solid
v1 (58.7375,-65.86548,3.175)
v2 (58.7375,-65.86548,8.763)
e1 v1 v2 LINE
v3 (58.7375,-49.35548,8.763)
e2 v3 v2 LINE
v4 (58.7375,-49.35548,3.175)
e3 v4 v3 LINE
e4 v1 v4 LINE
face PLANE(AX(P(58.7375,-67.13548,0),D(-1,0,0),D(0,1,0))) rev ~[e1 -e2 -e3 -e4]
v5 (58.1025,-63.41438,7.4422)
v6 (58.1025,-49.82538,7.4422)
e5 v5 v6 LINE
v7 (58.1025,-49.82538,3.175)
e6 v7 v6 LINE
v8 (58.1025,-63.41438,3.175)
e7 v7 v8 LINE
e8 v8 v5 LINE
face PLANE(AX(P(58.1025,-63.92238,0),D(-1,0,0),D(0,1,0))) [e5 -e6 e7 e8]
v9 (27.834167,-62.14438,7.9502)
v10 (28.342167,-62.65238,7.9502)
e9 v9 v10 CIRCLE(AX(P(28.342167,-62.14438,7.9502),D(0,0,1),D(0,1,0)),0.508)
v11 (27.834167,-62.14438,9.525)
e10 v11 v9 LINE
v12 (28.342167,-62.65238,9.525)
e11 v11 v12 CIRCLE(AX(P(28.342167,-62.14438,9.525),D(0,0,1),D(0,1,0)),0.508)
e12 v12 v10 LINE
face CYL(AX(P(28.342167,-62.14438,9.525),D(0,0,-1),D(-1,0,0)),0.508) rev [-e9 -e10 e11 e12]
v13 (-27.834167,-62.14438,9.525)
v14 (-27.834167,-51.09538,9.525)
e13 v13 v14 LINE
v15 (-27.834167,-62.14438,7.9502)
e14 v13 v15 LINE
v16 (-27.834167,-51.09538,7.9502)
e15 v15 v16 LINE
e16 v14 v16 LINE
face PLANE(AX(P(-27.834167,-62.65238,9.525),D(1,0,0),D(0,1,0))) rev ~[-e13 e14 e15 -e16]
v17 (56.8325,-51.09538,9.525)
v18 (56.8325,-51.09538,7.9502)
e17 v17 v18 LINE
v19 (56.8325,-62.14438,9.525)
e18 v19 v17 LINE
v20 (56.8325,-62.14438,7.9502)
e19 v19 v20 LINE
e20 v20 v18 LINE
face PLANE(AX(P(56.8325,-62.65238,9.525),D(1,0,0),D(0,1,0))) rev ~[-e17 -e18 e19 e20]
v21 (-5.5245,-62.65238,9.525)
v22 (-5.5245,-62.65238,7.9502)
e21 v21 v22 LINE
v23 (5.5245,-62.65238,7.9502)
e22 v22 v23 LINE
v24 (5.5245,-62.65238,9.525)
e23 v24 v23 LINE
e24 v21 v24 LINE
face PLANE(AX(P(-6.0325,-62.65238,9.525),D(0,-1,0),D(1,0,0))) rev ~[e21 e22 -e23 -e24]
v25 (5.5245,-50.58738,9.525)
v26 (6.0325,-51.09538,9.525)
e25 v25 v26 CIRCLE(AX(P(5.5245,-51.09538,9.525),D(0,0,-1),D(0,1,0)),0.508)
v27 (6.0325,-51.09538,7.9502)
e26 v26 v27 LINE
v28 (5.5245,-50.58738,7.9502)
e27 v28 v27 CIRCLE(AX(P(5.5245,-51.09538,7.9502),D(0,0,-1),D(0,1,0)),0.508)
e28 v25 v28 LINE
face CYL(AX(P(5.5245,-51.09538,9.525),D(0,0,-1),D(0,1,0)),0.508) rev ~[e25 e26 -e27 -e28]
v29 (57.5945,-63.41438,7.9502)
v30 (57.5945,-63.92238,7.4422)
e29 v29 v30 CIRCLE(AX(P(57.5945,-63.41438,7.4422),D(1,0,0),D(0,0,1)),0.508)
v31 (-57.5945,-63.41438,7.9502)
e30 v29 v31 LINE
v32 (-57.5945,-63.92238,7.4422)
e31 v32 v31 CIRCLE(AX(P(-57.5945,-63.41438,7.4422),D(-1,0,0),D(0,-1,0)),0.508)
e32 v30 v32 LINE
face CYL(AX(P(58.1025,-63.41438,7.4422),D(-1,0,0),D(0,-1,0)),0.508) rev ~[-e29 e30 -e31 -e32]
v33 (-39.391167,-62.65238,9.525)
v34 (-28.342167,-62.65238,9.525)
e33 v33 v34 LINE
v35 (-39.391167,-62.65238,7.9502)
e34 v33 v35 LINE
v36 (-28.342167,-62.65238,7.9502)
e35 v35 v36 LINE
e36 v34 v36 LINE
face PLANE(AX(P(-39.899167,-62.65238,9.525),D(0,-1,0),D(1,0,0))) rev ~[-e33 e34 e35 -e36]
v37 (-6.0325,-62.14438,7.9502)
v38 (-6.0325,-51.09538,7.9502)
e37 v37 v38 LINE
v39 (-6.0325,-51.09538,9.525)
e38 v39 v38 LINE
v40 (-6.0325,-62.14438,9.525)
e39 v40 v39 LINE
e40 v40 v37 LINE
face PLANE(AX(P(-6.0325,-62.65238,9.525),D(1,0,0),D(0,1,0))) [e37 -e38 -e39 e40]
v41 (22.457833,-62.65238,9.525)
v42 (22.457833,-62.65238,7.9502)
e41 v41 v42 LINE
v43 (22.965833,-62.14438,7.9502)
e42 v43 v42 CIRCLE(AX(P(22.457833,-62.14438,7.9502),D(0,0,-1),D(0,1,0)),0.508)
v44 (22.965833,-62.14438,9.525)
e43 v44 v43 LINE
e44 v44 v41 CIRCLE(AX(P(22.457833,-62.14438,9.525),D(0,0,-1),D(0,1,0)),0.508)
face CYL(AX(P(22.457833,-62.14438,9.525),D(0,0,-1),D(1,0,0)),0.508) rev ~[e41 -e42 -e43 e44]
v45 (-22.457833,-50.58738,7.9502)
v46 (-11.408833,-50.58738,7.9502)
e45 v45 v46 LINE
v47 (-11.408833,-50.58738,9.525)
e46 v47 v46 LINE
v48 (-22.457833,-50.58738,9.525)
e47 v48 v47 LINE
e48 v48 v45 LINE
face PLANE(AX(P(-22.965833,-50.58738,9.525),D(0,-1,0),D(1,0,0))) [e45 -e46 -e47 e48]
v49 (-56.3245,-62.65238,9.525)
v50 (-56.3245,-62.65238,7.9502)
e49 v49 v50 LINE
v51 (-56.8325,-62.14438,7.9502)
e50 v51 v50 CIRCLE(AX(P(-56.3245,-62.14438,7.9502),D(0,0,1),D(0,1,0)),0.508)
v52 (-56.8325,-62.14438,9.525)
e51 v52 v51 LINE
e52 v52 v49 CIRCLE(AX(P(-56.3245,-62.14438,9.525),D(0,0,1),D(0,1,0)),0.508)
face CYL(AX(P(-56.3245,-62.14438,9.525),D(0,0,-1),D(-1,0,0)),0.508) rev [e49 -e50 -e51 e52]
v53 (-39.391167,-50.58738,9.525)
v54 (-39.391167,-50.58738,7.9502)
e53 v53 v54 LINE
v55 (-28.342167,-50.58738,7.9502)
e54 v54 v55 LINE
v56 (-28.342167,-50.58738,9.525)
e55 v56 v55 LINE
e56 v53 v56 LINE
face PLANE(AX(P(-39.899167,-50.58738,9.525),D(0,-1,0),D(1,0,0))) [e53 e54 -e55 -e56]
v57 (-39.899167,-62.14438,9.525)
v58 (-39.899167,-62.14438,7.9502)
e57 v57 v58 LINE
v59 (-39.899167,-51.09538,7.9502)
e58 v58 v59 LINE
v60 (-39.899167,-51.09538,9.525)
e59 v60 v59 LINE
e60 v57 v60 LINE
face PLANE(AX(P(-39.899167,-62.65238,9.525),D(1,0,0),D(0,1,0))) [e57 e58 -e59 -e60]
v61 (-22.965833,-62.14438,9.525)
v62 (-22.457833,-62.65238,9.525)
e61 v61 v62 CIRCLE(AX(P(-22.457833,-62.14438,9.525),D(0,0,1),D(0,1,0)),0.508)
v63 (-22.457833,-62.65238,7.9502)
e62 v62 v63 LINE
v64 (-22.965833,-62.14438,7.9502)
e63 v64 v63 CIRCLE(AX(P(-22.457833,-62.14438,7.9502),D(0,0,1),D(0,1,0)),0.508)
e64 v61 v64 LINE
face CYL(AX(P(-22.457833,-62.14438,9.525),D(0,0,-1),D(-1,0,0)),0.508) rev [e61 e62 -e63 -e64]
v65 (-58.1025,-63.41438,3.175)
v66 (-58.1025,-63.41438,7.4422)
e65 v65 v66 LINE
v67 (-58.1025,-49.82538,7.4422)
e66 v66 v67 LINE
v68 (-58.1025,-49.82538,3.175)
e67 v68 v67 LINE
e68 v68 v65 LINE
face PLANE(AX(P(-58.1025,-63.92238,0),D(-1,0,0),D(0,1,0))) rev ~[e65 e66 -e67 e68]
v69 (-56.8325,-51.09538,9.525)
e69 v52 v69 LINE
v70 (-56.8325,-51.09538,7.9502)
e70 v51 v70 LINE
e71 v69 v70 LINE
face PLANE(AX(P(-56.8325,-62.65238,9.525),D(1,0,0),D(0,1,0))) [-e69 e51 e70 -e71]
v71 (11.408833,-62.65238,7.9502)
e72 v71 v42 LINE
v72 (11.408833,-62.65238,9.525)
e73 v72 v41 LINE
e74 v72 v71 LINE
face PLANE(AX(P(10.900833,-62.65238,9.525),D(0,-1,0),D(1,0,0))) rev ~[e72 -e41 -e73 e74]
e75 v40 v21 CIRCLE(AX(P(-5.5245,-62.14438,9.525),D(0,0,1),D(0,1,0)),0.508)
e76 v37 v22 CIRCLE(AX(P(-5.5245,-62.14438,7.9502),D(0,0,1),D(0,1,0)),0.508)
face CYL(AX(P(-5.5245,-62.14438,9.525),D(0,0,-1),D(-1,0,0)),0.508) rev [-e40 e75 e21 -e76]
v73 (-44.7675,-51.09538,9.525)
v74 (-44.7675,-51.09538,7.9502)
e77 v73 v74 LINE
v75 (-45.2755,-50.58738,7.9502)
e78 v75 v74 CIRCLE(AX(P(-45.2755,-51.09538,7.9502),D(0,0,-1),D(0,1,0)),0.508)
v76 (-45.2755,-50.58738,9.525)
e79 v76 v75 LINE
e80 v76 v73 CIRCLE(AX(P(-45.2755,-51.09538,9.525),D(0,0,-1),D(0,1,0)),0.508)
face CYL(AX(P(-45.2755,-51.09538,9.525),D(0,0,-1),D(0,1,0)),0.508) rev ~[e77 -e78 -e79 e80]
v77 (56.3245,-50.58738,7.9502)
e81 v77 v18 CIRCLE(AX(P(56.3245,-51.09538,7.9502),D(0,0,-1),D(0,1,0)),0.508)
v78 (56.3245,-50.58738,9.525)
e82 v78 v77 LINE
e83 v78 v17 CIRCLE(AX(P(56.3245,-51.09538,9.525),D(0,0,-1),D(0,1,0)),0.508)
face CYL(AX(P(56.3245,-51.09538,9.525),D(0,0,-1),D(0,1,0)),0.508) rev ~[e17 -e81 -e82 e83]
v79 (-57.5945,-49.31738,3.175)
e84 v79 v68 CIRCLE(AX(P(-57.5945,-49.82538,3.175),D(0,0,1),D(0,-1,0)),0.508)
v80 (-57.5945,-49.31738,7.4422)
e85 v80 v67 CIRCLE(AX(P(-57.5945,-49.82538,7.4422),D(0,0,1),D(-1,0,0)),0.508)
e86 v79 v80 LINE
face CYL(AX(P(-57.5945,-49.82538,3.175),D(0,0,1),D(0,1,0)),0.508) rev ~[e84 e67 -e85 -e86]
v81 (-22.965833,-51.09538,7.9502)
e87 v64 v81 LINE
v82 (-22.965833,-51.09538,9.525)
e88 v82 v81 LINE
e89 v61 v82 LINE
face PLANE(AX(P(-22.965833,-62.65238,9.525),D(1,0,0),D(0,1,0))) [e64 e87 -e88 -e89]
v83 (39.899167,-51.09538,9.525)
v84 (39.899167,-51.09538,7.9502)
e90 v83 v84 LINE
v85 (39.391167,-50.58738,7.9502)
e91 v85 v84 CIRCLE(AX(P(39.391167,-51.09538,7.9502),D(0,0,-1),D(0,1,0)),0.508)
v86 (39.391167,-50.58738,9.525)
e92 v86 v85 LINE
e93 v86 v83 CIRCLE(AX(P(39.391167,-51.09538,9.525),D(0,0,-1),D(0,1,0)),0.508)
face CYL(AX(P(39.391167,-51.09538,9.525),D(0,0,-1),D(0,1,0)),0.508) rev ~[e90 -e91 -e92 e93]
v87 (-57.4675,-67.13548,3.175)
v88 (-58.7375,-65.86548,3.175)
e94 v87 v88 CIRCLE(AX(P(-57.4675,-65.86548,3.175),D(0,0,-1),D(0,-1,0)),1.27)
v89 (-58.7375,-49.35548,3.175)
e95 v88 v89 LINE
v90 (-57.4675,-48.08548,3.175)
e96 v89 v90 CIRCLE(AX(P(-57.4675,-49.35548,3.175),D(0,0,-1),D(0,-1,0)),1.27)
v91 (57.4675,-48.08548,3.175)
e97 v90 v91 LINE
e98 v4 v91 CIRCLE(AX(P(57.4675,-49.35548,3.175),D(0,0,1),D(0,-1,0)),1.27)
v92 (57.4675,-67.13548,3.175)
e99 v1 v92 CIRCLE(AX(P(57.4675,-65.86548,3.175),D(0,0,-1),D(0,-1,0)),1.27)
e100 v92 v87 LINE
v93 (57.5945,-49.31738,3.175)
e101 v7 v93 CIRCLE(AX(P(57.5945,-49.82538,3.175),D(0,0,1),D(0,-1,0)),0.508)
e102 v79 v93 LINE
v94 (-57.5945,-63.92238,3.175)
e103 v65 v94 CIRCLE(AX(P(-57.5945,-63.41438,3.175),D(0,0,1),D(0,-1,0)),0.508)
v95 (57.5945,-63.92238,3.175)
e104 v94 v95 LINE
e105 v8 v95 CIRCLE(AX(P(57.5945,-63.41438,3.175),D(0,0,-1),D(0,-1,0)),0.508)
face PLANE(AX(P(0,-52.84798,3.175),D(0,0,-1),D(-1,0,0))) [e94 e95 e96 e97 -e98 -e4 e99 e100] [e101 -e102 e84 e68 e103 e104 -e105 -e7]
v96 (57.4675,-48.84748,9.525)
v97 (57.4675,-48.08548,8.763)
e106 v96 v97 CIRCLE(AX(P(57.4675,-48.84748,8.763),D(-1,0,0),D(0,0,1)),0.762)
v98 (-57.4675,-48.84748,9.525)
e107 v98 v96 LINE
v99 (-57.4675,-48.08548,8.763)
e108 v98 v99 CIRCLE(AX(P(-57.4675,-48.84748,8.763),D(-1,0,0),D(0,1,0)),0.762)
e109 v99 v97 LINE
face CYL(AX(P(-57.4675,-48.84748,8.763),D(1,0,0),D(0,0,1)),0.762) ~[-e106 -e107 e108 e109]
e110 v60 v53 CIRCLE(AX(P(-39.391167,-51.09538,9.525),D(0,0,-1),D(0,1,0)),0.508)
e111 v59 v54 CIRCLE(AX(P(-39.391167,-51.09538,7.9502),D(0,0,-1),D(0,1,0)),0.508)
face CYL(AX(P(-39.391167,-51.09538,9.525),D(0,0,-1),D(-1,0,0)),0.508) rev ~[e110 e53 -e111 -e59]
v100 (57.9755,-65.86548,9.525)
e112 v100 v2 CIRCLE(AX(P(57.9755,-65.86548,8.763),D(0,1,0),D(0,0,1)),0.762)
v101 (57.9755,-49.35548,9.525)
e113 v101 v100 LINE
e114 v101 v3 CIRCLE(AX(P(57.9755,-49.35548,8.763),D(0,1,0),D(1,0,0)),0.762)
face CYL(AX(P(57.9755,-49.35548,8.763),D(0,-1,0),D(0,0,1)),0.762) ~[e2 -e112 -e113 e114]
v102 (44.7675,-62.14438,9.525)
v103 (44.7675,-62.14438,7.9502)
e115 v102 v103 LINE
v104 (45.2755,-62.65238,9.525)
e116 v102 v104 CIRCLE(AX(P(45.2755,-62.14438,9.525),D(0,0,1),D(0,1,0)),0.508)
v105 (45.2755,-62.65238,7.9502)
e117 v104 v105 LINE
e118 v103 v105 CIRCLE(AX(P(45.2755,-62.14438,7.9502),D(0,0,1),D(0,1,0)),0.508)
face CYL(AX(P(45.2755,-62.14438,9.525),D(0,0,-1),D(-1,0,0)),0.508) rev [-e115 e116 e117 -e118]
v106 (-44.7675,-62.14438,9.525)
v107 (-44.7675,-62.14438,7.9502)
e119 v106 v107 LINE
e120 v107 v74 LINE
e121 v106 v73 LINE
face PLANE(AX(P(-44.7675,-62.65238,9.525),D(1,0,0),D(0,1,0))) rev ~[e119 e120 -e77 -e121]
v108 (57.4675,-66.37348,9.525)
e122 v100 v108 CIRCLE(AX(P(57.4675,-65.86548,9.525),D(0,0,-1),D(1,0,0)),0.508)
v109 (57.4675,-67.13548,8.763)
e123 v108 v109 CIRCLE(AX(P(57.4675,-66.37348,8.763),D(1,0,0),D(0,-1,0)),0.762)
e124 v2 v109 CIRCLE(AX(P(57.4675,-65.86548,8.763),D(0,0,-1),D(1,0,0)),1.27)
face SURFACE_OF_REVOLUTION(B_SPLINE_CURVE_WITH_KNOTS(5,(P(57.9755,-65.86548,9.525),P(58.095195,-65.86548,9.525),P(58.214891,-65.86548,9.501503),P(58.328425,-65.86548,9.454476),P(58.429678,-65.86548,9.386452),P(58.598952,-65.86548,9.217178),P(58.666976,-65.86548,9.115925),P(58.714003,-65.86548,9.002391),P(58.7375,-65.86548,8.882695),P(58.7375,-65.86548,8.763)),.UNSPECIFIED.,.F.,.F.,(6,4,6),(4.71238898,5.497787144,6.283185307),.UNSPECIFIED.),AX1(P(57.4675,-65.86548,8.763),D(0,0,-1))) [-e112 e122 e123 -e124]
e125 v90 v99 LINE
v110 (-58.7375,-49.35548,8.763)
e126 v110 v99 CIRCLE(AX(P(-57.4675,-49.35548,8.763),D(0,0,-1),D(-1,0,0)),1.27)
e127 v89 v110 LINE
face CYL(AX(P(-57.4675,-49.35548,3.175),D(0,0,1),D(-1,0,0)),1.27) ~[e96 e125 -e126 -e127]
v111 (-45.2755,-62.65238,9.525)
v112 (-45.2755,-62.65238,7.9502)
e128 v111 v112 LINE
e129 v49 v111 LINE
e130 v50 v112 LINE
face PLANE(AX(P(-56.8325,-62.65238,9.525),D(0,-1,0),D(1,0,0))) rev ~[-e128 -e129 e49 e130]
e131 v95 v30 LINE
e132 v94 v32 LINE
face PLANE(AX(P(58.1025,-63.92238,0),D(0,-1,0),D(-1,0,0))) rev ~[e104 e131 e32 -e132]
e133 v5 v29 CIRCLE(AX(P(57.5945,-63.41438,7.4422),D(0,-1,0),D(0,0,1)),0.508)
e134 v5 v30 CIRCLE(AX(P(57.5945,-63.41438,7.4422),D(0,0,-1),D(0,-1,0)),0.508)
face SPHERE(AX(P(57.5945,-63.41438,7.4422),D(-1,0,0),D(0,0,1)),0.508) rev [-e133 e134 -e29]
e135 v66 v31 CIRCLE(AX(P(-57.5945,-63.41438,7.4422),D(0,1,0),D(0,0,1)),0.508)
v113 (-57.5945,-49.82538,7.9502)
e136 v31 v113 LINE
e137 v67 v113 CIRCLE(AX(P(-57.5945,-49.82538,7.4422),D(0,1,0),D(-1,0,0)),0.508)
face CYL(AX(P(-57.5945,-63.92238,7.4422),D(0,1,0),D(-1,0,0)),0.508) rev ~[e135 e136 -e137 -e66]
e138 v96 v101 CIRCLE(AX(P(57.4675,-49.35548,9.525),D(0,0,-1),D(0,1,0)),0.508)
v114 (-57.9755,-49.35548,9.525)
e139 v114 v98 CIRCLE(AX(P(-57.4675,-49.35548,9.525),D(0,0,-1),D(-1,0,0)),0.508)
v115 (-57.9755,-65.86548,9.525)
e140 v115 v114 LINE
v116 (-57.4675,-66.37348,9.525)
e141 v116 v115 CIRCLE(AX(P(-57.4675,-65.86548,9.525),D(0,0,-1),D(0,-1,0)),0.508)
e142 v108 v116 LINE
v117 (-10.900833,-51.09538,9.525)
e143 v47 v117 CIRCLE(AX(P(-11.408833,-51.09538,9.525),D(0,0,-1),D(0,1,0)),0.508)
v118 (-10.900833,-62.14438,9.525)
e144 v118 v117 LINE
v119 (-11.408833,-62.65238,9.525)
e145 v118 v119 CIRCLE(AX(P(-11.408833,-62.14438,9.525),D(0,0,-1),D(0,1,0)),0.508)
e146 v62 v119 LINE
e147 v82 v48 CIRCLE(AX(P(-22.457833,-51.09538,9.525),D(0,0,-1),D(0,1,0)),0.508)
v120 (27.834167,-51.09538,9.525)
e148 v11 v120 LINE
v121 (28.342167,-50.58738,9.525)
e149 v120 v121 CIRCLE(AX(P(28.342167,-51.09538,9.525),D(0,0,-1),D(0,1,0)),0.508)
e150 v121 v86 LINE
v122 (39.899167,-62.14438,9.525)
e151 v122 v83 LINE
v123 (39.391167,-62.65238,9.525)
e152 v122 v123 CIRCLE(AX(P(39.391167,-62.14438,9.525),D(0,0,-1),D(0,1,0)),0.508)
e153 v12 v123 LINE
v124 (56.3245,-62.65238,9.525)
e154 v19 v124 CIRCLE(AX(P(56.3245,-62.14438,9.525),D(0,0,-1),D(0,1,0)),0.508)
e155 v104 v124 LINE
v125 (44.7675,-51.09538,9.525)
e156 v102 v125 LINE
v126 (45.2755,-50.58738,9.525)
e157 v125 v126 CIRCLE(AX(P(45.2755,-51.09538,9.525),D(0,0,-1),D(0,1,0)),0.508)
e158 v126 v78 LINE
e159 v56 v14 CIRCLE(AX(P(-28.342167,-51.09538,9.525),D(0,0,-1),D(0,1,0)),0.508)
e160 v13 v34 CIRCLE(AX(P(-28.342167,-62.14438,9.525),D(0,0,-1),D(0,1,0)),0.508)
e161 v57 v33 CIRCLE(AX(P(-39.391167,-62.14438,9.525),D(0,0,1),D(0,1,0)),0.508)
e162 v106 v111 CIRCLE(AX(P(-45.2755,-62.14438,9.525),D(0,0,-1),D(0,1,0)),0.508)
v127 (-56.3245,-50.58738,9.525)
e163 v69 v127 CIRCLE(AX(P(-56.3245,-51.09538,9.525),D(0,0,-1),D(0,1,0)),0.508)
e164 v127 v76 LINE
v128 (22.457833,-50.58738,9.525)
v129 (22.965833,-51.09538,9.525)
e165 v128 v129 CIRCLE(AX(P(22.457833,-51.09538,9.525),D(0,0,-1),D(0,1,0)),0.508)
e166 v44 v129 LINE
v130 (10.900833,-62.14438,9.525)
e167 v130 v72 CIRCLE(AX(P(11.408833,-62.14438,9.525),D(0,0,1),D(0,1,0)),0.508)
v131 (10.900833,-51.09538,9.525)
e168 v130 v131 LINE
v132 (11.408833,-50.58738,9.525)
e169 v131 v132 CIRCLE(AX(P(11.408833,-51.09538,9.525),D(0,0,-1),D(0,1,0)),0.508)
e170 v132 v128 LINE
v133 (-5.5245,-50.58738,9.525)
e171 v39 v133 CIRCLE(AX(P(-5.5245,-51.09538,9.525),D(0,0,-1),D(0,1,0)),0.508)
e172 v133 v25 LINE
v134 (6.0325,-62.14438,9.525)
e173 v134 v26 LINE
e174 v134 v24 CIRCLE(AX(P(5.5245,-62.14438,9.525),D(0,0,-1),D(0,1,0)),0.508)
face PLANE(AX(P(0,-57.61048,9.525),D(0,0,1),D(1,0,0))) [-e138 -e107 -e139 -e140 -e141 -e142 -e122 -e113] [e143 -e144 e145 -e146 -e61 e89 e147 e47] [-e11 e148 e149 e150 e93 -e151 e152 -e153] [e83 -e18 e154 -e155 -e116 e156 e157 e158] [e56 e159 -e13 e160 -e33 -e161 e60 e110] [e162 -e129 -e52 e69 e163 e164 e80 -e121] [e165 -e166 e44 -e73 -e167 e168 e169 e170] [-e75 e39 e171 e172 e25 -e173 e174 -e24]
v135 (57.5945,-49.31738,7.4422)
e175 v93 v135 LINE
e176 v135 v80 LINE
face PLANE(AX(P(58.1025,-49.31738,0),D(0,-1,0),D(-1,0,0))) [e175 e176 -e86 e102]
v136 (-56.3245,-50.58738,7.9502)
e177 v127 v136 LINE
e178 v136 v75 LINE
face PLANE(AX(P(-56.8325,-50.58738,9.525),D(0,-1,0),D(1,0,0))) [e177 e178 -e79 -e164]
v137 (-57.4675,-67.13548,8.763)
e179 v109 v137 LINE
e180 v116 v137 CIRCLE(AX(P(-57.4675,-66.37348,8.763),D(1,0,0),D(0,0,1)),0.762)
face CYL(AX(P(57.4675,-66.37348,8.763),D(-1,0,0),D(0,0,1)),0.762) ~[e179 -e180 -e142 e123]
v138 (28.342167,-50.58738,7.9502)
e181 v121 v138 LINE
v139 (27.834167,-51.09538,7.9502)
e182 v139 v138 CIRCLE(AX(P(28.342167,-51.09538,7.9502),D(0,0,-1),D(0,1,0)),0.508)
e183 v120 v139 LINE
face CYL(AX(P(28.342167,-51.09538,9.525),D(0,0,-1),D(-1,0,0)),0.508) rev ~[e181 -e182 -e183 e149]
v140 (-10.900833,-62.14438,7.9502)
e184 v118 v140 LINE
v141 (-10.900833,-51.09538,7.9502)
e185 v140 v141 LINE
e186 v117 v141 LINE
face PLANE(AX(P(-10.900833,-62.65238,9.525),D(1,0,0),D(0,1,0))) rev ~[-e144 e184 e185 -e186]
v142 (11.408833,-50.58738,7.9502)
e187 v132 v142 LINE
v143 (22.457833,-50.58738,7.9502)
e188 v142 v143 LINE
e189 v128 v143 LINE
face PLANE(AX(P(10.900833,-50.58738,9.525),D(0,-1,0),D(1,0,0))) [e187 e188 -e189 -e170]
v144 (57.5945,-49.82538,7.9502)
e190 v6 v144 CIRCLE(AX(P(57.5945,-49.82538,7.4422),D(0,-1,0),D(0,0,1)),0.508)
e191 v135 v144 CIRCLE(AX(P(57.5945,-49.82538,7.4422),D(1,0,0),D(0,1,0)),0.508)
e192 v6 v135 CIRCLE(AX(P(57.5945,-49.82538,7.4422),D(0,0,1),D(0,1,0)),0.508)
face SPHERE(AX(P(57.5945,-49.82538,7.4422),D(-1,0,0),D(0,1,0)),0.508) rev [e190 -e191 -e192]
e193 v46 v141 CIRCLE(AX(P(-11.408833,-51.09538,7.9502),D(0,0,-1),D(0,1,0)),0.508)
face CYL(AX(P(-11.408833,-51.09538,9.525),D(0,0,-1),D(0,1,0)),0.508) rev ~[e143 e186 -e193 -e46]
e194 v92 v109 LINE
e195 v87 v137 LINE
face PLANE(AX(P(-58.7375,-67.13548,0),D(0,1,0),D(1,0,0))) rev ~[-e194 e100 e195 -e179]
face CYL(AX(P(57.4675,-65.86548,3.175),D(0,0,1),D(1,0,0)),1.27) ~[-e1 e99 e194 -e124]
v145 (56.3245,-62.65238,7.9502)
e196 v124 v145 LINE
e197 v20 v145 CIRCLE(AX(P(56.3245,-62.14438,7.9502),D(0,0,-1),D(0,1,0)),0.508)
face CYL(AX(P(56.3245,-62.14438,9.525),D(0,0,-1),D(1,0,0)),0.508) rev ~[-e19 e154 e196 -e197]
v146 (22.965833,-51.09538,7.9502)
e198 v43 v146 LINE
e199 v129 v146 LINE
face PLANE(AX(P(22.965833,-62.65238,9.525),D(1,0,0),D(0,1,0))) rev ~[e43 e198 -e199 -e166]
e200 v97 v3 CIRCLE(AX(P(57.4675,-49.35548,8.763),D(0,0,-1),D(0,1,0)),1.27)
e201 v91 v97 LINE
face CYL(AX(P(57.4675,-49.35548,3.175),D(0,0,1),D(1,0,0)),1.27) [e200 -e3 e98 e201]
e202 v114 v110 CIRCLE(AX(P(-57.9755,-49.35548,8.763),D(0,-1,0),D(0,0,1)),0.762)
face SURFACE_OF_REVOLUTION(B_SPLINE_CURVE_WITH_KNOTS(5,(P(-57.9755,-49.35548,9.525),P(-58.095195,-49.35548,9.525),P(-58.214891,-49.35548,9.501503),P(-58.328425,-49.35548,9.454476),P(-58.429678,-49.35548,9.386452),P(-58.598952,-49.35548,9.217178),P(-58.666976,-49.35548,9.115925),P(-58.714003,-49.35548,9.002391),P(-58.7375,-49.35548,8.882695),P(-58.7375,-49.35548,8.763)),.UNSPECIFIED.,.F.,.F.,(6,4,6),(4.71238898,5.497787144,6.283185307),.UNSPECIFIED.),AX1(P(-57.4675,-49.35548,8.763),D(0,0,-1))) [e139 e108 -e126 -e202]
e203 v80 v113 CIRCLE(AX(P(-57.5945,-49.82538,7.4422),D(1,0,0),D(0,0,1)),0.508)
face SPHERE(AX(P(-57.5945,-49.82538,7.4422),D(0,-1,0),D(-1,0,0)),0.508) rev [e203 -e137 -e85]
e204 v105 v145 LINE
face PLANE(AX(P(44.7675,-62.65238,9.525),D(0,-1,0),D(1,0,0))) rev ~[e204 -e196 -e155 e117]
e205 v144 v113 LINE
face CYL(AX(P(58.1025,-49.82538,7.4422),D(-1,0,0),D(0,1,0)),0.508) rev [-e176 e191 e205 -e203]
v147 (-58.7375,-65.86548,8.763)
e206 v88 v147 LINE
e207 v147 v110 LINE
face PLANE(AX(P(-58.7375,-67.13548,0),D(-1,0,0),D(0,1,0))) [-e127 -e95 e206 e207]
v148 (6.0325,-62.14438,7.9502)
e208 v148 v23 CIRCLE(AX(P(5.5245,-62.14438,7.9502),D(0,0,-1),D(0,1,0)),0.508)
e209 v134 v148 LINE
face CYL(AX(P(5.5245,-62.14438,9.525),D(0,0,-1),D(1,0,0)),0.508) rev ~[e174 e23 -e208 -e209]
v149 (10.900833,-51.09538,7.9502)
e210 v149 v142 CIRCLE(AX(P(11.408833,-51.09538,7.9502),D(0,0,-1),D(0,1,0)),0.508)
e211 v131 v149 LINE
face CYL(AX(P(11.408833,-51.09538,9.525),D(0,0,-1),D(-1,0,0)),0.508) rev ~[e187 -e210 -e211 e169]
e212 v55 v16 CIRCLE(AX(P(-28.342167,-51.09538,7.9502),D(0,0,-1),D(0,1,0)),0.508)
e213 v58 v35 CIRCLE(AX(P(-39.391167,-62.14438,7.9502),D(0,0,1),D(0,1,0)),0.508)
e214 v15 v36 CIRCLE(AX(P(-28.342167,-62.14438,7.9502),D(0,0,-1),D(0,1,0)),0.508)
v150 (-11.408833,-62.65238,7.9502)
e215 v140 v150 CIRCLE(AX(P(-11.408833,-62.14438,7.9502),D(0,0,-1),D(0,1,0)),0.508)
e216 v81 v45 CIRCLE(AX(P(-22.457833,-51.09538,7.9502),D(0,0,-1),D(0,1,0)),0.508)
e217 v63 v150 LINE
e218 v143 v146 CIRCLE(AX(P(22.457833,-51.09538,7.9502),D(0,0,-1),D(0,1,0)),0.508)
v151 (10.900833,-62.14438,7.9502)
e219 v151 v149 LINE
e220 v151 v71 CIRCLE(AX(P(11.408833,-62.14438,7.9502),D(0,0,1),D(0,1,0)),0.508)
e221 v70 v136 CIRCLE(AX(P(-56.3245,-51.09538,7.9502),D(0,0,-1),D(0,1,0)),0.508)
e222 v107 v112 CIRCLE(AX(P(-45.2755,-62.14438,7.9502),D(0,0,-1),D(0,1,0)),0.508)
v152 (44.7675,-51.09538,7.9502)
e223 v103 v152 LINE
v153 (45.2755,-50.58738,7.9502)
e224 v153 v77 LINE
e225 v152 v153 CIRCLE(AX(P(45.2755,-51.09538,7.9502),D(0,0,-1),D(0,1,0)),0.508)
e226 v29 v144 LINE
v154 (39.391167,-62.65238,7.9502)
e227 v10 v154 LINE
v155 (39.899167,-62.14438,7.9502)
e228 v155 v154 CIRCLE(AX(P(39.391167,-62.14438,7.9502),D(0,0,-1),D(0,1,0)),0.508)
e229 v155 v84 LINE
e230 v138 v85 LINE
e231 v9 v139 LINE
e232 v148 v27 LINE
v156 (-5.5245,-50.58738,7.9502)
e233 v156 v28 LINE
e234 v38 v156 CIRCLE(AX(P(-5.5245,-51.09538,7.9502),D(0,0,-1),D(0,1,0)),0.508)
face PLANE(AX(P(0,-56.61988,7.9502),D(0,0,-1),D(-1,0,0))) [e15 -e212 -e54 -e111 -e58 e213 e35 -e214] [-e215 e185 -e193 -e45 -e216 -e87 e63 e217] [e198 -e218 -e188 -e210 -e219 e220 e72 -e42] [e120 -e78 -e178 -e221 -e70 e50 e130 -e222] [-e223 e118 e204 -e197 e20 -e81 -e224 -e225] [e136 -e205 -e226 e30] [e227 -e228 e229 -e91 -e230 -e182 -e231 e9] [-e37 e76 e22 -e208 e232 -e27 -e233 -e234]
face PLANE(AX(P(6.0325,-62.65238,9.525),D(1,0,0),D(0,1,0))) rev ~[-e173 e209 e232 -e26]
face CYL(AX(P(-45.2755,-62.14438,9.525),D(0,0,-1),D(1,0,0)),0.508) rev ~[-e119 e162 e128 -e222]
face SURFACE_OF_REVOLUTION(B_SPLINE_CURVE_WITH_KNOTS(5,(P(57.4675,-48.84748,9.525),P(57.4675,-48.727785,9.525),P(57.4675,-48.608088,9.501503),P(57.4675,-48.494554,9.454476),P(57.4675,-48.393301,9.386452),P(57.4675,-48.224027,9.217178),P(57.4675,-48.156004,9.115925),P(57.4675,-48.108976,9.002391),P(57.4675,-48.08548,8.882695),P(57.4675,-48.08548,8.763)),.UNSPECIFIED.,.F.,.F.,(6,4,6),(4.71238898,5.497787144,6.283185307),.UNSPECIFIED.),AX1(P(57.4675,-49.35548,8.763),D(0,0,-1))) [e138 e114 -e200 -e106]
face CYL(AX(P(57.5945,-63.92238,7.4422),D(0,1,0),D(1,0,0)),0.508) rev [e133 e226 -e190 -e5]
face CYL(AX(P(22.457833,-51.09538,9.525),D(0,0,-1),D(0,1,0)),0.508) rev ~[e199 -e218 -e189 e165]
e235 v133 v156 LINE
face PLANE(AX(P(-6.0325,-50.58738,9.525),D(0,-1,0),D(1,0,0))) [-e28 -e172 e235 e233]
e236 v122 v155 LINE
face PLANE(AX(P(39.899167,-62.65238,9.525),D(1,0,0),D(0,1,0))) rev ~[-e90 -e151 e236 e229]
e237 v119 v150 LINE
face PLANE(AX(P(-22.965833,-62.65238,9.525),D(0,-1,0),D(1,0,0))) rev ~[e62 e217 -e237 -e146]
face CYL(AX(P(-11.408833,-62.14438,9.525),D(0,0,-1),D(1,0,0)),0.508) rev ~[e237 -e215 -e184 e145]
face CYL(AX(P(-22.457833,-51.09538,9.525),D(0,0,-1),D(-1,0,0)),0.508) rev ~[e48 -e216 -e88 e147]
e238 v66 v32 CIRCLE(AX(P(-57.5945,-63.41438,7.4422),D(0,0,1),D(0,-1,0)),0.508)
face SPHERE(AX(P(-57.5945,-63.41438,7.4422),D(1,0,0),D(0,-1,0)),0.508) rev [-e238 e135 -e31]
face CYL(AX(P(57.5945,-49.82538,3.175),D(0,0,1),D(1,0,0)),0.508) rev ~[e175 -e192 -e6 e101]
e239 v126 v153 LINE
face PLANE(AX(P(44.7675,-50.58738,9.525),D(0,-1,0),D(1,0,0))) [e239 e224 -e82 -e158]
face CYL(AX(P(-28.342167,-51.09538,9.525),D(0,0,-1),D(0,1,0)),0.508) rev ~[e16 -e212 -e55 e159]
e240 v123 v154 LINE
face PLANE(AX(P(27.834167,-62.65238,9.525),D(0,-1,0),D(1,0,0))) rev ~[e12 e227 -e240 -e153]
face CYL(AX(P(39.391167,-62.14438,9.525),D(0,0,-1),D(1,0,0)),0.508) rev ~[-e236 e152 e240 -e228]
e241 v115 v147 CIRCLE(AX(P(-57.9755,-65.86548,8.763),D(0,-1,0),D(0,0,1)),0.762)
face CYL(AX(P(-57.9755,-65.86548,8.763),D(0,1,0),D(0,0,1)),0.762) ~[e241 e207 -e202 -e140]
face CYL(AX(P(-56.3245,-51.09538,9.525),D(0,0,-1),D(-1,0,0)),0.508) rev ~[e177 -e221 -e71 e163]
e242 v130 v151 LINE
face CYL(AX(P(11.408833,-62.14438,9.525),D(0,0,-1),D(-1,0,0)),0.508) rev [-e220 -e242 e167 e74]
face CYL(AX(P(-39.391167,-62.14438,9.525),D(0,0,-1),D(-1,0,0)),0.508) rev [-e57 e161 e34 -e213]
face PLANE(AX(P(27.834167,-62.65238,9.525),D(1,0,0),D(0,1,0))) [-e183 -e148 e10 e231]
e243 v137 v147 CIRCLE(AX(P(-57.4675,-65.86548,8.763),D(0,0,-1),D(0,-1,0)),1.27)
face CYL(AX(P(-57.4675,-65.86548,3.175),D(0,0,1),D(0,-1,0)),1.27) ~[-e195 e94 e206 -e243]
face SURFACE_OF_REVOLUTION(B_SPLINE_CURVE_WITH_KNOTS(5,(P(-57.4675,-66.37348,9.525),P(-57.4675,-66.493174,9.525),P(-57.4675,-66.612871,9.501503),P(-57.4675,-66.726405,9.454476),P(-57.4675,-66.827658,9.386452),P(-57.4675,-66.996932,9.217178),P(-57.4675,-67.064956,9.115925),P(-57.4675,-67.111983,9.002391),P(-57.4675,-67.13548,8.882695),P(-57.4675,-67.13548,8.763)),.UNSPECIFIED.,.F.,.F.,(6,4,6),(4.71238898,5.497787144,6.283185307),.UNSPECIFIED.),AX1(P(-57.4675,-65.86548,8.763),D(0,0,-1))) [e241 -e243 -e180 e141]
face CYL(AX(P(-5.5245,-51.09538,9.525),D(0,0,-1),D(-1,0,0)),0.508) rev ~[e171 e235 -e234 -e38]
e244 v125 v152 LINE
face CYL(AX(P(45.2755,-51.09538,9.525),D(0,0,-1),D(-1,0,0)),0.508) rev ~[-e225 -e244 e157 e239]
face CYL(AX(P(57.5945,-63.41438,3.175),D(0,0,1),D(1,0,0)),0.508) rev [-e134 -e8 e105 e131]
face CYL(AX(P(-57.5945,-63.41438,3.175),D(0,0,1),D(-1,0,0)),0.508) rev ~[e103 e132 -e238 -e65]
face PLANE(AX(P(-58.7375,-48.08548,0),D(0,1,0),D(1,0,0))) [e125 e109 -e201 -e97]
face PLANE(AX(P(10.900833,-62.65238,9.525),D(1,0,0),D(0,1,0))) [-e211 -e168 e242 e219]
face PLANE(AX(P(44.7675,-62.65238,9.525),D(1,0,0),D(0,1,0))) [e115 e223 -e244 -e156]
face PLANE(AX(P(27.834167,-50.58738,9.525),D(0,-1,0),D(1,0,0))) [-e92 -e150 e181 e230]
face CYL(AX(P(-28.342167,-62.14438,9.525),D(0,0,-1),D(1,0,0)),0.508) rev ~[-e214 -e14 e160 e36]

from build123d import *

# Parameters (mm, degrees)
SKETCH1_W             = 117.475
SKETCH1_H             = 19.05
BOSS_EXTRUDE1_DEPTH   = 9.525
BOSS_EXTRUDE2_DEPTH   = 3.175
F_6_CLEARANCE_HOLE1_D = 4.3053
SKETCH5_W             = 12.065
SKETCH5_H             = 12.065
CUT_EXTRUDE1_DEPTH    = 10.525
SKETCH7_W             = 116.205
SKETCH7_H             = 14.605
CUT_EXTRUDE2_DEPTH    = 7.9502
SKETCH8_W             = 117.475
SKETCH8_H             = 28.575
CUT_EXTRUDE3_DEPTH    = 3.175
FILLET2_R             = 1.27
FILLET3_R             = 0.762
FILLET4_R             = 0.508
FILLET5_R             = 0.508


with BuildPart() as part:
    # Sketch1 → Boss-Extrude1 (new body)
    with BuildSketch(Plane.XY):
        with Locations((0, -57.6104797)):
            Rectangle(SKETCH1_W, SKETCH1_H)
    extrude(amount=BOSS_EXTRUDE1_DEPTH)

    # Sketch2 → Boss-Extrude2 (add)
    with BuildSketch(Plane.XY):
        with BuildLine():
            Line((35.56, -48.0854797), (58.7375, -48.0854797))
            Line((58.7375, -48.0854797), (44.939976119, -39.26086832))
            ThreePointArc((44.939976119, -39.26086832), (40.410479427, -39.106525106), (38.1, -43.0054797))
            Line((38.1, -43.0054797), (38.1, -45.5454797))
            ThreePointArc((38.1, -45.5454797), (37.356051224, -47.341530924), (35.56, -48.0854797))
        make_face()
        with BuildLine():
            Line((-38.1, -45.5454797), (-38.1, -43.0054797))
            ThreePointArc((-38.1, -43.0054797), (-40.410479427, -39.106525106), (-44.939976119, -39.26086832))
            Line((-44.939976119, -39.26086832), (-58.7375, -48.0854797))
            Line((-58.7375, -48.0854797), (-35.56, -48.0854797))
            ThreePointArc((-35.56, -48.0854797), (-37.356051224, -47.341530924), (-38.1, -45.5454797))
        make_face()
    extrude(amount=BOSS_EXTRUDE2_DEPTH)

    # #6 Clearance Hole1 (through all)
    with Locations(Plane.XY.offset(3.175)):
        with Locations((42.545, -43.0054797), (-42.545, -43.0054797)):
            Hole(F_6_CLEARANCE_HOLE1_D / 2)

    # Sketch5 → Cut-Extrude1 (cut, through all)
    with BuildSketch(Plane.XY.offset(9.525)):
        with Locations((50.8, -56.6198797)):
            Rectangle(SKETCH5_W, SKETCH5_H)
        with Locations((33.866666667, -56.6198797)):
            Rectangle(SKETCH5_W, SKETCH5_H)
        with Locations((16.933333333, -56.6198797)):
            Rectangle(SKETCH5_W, SKETCH5_H)
        with Locations((0, -56.6198797)):
            Rectangle(SKETCH5_W, SKETCH5_H)
        with Locations((-16.933333333, -56.6198797)):
            Rectangle(SKETCH5_W, SKETCH5_H)
        with Locations((-33.866666667, -56.6198797)):
            Rectangle(SKETCH5_W, SKETCH5_H)
        with Locations((-50.8, -56.6198797)):
            Rectangle(SKETCH5_W, SKETCH5_H)
    extrude(amount=-CUT_EXTRUDE1_DEPTH, mode=Mode.SUBTRACT)

    # Sketch7 → Cut-Extrude2 (cut)
    with BuildSketch(Plane(origin=(0, 0, 0), x_dir=(-1, 0, 0), z_dir=(0, 0, -1))):
        with Locations((0, -56.6198797)):
            Rectangle(SKETCH7_W, SKETCH7_H)
    extrude(amount=-CUT_EXTRUDE2_DEPTH, mode=Mode.SUBTRACT)

    # Sketch8 → Cut-Extrude3 (cut)
    with BuildSketch(Plane(origin=(0, 0, 0), x_dir=(-1, 0, 0), z_dir=(0, 0, -1))):
        with Locations((0, -52.8479797)):
            Rectangle(SKETCH8_W, SKETCH8_H)
    extrude(amount=-CUT_EXTRUDE3_DEPTH, mode=Mode.SUBTRACT)

    # Fillet2
    fillet2_edges = [part.edges().sort_by_distance(p)[0] for p in [
        (58.7375, -67.1354797, 6.35),
        (58.7375, -48.0854797, 6.35),
        (-58.7375, -48.0854797, 6.35),
        (-58.7375, -67.1354797, 6.35),
    ]]
    fillet(fillet2_edges, radius=FILLET2_R)

    # Fillet3
    fillet3_edges = [part.edges().sort_by_distance(p)[0] for p in [
        (-58.7375, -57.6104797, 9.525),
        (0, -48.0854797, 9.525),
        (0, -67.1354797, 9.525),
        (58.7375, -57.6104797, 9.525),
        (58.365525612, -66.763505312, 9.525),
        (58.365525612, -48.457454088, 9.525),
        (-58.365525612, -66.763505312, 9.525),
        (-58.365525612, -48.457454088, 9.525),
    ]]
    fillet(fillet3_edges, radius=FILLET3_R)

    # Fillet4
    fillet4_edges = [part.edges().sort_by_distance(p)[0] for p in [
        (0, -63.9223797, 7.9502),
        (-58.1025, -63.9223797, 5.5626),
        (-58.1025, -56.6198797, 7.9502),
        (-58.1025, -49.3173797, 5.5626),
        (0, -49.3173797, 7.9502),
        (58.1025, -49.3173797, 5.5626),
        (58.1025, -56.6198797, 7.9502),
        (58.1025, -63.9223797, 5.5626),
    ]]
    fillet(fillet4_edges, radius=FILLET4_R)

    # Fillet5
    fillet5_edges = [part.edges().sort_by_distance(p)[0] for p in [
        (-56.8325, -50.5873797, 8.7376),
        (-44.7675, -50.5873797, 8.7376),
        (-56.8325, -62.6523797, 8.7376),
        (-44.7675, -62.6523797, 8.7376),
        (-39.899166667, -50.5873797, 8.7376),
        (-27.834166667, -50.5873797, 8.7376),
        (-39.899166667, -62.6523797, 8.7376),
        (-27.834166667, -62.6523797, 8.7376),
        (-22.965833333, -50.5873797, 8.7376),
        (-10.900833333, -50.5873797, 8.7376),
        (-22.965833333, -62.6523797, 8.7376),
        (-10.900833333, -62.6523797, 8.7376),
        (-6.0325, -50.5873797, 8.7376),
        (6.0325, -50.5873797, 8.7376),
        (-6.0325, -62.6523797, 8.7376),
        (6.0325, -62.6523797, 8.7376),
        (10.900833333, -62.6523797, 8.7376),
        (10.900833333, -50.5873797, 8.7376),
        (22.965833333, -62.6523797, 8.7376),
        (22.965833333, -50.5873797, 8.7376),
        (39.899166667, -50.5873797, 8.7376),
        (39.899166667, -62.6523797, 8.7376),
        (27.834166667, -50.5873797, 8.7376),
        (27.834166667, -62.6523797, 8.7376),
        (44.7675, -50.5873797, 8.7376),
        (56.8325, -50.5873797, 8.7376),
        (44.7675, -62.6523797, 8.7376),
        (56.8325, -62.6523797, 8.7376),
    ]]
    fillet(fillet5_edges, radius=FILLET5_R)


solid = part.part
